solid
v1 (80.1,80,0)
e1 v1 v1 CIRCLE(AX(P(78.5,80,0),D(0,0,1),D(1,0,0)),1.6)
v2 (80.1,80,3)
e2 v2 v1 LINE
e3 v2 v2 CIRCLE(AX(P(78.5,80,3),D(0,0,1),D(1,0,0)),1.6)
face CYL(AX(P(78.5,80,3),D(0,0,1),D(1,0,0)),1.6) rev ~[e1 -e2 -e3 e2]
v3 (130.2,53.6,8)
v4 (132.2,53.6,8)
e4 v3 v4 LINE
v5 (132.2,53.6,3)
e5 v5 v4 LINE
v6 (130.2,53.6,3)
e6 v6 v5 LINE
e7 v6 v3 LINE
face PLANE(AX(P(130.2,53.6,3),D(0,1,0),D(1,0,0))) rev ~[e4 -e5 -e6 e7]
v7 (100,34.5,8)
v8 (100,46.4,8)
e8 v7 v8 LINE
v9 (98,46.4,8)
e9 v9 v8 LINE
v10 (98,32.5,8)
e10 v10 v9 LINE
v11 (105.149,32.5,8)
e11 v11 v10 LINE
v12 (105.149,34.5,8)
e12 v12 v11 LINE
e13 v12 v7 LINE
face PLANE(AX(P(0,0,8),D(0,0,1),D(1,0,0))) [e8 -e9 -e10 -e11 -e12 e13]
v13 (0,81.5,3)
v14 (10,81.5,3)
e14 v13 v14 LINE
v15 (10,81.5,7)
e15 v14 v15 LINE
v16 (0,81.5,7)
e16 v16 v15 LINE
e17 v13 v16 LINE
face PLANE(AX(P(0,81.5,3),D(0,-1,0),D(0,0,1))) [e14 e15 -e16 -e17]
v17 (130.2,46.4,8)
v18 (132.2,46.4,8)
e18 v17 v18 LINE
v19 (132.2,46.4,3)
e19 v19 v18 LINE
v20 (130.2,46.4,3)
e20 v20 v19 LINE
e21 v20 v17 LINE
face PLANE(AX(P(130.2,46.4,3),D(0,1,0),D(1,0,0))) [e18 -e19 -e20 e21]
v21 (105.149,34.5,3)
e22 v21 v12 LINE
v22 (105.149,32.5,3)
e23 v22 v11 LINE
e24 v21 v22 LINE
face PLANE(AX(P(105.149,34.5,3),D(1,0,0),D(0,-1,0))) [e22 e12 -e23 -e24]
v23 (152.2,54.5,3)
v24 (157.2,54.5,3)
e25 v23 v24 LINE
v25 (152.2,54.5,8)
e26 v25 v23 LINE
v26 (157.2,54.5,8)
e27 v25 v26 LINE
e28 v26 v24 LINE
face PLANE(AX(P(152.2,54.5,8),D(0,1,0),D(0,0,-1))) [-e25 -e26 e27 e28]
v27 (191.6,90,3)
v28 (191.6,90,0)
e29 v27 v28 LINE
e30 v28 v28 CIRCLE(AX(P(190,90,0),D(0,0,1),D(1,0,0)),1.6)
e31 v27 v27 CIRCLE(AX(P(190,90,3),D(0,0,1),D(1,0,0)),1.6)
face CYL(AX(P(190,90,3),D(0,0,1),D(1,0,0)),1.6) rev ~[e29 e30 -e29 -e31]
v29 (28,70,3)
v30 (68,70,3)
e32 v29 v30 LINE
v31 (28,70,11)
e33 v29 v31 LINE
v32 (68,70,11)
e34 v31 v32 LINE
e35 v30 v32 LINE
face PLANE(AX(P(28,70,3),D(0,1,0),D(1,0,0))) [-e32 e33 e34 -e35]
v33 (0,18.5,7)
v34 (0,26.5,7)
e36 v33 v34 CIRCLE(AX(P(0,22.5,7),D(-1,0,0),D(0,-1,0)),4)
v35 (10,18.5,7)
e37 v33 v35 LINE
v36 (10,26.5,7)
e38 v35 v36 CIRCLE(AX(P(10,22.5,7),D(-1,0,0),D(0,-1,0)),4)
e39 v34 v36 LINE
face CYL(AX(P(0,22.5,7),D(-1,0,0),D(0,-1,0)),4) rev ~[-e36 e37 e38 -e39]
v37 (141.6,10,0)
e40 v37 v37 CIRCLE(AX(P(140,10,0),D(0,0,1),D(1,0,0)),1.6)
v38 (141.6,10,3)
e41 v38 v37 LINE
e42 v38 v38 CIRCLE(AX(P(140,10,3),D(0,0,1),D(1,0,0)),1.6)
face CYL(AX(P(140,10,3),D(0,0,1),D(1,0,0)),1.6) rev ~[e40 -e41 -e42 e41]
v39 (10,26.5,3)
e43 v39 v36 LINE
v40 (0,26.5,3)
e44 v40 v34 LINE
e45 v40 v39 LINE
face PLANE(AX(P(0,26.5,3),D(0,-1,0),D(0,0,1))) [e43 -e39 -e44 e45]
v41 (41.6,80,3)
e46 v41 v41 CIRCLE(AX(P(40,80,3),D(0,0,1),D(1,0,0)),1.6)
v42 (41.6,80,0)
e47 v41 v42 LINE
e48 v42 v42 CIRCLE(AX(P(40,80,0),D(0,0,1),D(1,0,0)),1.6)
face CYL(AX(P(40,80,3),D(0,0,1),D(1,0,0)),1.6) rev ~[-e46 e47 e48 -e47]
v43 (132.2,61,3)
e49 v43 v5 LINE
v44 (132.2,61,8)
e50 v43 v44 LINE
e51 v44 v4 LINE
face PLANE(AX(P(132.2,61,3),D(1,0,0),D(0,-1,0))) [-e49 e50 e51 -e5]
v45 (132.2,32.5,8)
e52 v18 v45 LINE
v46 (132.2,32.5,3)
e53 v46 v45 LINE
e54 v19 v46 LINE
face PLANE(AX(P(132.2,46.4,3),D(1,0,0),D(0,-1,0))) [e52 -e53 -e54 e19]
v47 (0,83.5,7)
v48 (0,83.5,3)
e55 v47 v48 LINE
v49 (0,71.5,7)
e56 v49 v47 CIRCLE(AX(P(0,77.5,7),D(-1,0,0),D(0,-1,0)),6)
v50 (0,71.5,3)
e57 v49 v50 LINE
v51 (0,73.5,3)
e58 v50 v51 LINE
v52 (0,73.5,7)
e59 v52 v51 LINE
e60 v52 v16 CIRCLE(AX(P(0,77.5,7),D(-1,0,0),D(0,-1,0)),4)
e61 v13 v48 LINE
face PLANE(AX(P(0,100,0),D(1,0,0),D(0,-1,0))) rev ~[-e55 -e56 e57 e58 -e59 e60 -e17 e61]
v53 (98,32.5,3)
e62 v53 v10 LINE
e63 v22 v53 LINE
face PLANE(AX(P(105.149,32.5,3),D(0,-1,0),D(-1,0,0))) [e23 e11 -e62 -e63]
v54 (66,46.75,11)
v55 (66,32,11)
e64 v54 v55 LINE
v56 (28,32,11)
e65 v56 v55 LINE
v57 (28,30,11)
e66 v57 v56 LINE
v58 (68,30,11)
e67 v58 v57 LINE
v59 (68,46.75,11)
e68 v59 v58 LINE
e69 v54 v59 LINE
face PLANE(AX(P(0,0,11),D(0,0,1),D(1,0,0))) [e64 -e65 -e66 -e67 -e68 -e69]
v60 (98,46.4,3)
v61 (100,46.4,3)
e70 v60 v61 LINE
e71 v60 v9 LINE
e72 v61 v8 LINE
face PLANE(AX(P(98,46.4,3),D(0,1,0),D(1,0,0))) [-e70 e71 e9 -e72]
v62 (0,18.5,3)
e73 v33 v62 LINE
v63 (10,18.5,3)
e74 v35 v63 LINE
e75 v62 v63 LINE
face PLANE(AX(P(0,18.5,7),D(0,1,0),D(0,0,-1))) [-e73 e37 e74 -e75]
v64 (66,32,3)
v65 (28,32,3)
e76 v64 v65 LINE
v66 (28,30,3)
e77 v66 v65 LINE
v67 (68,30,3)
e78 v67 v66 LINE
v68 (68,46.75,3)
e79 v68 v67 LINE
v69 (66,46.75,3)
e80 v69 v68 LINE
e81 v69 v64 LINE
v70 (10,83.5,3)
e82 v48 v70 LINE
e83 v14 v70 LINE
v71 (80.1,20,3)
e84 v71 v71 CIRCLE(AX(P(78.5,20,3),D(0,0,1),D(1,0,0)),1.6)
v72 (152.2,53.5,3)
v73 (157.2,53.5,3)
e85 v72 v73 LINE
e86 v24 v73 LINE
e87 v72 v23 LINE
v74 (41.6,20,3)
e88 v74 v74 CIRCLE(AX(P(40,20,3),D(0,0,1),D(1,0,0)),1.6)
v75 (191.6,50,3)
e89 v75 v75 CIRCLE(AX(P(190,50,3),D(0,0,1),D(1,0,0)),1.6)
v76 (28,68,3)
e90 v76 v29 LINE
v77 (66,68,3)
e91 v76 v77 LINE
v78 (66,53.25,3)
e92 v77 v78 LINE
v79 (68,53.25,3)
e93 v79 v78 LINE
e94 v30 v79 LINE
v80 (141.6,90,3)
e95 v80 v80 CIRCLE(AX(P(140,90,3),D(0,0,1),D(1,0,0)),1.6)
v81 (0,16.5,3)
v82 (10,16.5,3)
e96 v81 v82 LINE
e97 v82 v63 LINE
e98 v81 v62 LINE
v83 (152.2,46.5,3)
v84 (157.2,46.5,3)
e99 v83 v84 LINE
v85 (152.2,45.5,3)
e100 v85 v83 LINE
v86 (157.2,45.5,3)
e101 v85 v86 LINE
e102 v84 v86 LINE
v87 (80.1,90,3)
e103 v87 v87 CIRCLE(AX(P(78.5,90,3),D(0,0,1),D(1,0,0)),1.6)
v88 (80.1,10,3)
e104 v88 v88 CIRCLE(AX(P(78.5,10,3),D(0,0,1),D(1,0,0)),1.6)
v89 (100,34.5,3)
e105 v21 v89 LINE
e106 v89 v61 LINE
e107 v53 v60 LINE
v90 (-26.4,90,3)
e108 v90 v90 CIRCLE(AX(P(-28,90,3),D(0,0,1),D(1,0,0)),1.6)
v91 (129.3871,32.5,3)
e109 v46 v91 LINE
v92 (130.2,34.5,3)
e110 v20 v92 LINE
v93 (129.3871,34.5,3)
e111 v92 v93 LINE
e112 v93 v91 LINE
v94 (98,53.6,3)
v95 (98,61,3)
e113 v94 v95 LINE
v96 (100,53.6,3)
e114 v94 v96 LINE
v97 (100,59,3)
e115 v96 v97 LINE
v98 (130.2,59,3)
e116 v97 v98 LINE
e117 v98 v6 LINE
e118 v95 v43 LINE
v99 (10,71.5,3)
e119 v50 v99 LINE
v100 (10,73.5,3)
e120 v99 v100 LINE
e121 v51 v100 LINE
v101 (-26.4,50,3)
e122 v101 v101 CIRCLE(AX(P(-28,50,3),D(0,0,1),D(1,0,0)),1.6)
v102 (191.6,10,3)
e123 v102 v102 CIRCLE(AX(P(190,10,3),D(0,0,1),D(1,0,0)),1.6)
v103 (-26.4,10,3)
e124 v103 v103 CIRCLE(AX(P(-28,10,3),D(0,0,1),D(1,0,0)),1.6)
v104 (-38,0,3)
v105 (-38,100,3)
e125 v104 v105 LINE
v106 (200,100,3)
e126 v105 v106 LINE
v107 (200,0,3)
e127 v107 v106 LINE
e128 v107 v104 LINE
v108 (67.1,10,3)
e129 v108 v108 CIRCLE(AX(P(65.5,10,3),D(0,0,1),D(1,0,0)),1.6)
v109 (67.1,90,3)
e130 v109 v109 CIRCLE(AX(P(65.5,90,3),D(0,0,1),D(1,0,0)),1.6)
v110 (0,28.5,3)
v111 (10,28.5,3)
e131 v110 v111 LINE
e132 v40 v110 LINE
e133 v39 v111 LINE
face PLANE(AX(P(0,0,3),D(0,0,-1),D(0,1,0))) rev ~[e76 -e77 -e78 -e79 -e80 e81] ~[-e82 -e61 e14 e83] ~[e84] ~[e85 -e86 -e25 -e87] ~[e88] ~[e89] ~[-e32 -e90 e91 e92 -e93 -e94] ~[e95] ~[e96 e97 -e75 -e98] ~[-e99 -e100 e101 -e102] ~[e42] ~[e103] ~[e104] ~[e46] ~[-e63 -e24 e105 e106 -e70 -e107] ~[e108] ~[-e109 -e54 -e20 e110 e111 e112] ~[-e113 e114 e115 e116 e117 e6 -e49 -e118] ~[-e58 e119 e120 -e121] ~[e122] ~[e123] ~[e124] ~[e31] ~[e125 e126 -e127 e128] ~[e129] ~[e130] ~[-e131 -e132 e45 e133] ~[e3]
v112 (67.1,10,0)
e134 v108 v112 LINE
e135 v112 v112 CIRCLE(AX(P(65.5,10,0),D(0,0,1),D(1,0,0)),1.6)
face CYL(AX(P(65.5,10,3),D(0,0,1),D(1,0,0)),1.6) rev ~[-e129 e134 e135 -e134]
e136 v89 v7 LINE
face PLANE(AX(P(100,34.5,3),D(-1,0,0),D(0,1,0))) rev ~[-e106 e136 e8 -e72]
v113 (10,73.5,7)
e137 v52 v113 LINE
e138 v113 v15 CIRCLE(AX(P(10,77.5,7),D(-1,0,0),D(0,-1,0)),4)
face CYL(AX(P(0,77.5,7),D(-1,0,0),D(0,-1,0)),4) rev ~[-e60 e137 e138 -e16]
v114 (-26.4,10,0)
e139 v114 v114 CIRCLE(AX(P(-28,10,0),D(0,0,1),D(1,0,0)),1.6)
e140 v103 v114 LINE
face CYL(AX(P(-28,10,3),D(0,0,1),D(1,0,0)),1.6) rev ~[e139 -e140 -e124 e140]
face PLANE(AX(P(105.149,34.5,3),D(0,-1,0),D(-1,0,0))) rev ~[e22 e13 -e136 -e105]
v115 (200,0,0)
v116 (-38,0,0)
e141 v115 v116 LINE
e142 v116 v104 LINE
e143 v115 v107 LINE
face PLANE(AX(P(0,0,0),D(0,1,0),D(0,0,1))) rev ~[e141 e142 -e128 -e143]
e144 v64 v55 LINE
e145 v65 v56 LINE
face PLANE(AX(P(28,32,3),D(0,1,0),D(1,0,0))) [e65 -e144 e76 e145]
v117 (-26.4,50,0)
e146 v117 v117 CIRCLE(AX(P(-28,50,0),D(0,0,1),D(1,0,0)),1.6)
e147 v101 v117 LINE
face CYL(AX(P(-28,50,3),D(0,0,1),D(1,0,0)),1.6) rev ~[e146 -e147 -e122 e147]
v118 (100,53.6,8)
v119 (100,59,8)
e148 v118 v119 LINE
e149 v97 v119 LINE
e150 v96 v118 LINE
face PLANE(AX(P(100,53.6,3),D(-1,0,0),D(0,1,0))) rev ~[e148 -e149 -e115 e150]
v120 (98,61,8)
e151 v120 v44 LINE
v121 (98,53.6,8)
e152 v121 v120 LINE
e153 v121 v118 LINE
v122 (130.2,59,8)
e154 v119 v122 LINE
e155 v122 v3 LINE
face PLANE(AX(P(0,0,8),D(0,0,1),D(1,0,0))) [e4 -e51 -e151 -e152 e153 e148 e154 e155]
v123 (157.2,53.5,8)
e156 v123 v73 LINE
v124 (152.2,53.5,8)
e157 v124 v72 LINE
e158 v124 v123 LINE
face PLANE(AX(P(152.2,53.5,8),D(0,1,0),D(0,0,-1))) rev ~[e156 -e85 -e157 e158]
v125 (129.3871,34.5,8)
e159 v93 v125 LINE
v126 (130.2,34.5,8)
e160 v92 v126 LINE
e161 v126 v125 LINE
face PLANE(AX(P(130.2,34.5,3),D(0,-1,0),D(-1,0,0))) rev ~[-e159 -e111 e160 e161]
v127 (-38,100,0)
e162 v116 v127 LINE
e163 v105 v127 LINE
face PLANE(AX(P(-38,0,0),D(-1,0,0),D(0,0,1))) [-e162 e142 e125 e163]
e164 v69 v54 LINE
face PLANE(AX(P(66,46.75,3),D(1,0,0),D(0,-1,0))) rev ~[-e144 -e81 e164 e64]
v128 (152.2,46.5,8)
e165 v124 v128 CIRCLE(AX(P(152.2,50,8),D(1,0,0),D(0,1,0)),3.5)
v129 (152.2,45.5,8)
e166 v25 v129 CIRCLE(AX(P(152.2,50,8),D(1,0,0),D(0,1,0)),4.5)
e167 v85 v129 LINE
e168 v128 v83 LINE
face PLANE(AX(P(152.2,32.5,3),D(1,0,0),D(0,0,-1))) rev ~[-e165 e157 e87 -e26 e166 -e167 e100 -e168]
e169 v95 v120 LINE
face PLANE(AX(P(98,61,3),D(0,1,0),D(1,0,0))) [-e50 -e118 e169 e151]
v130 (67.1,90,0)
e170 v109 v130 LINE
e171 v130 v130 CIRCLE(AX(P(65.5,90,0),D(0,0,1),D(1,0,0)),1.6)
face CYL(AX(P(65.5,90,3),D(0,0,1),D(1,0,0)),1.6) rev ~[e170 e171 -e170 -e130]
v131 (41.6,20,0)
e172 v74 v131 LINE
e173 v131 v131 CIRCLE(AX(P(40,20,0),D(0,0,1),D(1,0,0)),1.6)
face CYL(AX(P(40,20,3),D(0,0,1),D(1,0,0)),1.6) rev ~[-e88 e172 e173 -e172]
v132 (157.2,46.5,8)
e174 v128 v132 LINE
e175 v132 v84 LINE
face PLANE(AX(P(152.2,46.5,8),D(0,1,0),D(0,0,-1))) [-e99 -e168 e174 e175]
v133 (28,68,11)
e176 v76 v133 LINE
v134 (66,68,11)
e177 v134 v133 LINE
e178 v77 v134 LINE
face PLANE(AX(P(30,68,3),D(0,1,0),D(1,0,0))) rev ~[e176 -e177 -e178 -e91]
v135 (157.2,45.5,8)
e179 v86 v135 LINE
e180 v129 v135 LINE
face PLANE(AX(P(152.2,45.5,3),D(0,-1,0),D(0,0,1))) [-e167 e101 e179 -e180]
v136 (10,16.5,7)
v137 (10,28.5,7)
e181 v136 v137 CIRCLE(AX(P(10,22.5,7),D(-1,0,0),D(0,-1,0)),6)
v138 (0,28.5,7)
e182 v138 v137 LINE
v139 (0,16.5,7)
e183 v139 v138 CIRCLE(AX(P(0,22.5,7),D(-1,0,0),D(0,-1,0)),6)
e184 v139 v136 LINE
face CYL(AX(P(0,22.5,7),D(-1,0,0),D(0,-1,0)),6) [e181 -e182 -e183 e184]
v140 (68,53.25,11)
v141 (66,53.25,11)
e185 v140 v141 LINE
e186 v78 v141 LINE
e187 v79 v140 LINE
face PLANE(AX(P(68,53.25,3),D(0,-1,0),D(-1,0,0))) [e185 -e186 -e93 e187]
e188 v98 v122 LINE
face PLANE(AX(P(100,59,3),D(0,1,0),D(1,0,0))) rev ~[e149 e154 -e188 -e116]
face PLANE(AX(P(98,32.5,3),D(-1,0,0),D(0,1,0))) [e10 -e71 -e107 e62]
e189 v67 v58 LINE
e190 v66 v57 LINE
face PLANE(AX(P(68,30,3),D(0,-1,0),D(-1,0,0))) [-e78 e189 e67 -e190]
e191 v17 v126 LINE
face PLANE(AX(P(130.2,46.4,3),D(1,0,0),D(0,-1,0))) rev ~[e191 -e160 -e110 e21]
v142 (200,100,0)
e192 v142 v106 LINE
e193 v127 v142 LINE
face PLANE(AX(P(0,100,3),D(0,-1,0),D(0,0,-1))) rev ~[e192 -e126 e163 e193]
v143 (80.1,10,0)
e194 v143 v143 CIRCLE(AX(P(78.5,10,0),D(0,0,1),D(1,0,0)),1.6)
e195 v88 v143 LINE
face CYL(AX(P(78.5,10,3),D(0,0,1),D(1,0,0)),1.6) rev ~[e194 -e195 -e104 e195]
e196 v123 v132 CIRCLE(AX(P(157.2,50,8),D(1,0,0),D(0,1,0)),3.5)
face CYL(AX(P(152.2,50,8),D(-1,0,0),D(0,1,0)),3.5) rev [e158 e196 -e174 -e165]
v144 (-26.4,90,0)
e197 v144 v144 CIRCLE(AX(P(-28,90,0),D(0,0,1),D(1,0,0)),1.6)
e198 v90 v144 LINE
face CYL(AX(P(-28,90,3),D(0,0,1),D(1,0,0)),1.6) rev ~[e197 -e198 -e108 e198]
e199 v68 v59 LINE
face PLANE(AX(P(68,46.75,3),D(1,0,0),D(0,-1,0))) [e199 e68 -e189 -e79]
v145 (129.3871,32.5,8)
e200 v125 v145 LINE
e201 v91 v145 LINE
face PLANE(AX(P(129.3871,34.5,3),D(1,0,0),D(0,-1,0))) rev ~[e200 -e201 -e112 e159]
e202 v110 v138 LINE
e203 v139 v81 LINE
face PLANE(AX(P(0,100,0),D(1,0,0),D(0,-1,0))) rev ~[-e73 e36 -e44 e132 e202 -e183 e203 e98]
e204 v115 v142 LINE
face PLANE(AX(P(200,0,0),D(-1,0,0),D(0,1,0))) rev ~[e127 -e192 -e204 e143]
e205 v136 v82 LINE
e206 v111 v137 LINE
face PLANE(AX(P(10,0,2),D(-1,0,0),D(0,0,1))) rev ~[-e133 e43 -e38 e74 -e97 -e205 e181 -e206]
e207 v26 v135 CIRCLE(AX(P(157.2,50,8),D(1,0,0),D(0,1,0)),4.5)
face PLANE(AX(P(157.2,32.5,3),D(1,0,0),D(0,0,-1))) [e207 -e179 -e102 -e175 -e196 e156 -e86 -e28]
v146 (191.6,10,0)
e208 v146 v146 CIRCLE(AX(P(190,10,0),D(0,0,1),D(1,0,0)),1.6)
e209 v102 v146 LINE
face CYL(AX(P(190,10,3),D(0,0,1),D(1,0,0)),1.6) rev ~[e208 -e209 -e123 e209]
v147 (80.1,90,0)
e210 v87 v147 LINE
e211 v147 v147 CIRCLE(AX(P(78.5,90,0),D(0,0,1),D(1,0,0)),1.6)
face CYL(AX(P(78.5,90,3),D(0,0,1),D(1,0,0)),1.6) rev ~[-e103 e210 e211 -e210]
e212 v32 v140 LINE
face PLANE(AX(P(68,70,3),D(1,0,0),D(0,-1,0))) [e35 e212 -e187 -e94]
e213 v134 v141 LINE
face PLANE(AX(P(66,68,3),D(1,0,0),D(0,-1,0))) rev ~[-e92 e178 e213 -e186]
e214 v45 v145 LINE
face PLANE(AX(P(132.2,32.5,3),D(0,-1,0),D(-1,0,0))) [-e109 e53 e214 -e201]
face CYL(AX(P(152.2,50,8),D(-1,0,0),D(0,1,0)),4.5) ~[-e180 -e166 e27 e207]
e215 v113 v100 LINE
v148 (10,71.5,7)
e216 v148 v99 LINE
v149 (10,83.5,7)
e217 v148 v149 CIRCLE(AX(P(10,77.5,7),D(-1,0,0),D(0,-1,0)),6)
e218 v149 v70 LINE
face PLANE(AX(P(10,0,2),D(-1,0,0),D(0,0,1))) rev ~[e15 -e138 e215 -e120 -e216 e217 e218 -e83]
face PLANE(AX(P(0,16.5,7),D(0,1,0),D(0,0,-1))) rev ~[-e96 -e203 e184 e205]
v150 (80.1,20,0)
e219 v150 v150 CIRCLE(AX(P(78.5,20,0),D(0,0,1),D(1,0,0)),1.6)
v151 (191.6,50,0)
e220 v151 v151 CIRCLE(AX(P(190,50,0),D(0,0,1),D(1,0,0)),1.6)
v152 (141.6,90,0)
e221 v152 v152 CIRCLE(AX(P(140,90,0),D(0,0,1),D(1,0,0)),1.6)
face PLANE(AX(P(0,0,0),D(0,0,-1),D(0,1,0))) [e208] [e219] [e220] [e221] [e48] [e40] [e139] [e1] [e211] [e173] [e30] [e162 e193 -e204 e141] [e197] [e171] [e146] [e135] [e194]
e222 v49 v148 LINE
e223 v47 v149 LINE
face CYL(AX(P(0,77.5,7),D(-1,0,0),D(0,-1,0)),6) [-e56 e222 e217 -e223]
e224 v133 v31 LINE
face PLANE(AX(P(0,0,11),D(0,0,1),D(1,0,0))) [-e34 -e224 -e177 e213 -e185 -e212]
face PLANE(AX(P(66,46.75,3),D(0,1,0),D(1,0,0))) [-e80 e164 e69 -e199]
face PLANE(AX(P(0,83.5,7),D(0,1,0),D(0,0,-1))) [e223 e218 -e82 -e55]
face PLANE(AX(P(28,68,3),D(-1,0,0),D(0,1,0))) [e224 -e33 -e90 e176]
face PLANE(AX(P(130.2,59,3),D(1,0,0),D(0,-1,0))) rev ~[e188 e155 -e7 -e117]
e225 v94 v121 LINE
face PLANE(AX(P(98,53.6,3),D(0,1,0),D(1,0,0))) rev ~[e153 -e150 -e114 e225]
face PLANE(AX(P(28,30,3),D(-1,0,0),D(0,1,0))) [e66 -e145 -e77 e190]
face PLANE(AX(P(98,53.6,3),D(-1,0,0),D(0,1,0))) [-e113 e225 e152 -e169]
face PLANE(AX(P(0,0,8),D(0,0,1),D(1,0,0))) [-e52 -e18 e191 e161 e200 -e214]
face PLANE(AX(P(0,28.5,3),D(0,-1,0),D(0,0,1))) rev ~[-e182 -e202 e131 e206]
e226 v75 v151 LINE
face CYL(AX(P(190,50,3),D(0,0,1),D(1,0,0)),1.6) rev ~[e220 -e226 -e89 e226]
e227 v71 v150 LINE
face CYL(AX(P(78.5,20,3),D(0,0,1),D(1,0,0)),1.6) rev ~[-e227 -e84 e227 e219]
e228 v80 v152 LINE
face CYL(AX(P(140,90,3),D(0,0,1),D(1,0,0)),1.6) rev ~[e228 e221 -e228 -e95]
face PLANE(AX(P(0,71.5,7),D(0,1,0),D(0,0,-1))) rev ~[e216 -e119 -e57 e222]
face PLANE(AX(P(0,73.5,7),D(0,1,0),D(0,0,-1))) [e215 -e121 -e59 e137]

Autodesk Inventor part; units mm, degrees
ref_plane "YZ Plane" through (0, 0, 0) normal (1, 0, 0) x (0, 1, 0)
ref_plane "XZ Plane" through (0, 0, 0) normal (0, 1, 0) x (-1, 0, 0)
ref_plane "XY Plane" through (0, 0, 0) normal (0, 0, 1) x (1, 0, 0)
sketch "Sketch1" plane through (0, 0, 0) normal (0, 0, 1) x (1, 0, 0)
  line L0 (0, 0) -> (200, 0)
  line L1 (200, 0) -> (200, 100)
  line L2 (200, 100) -> (0, 100)
  line L3 (0, 100) -> (0, 0)
  dimension "d0" = 200
  dimension "d1" = 100
extrude "Extrusion1" add sketch "Sketch1" along normal blind 3
sketch "Sketch2" plane through (0, 0, 2) normal (-1, 0, 0) x (0, 0, 1)
  line L0 (1, 0) -> (1, 100) projected
  line L1 (1, 81.5) -> (5, 81.5)
  arc A0 (5, 73.5) -> (5, 81.5) centre (5, 77.5) ccw
  line L2 (5, 73.5) -> (1, 73.5)
  arc A1 (5, 71.5) -> (5, 83.5) centre (5, 77.5) ccw
  line L3 (5, 83.5) -> (1, 83.5)
  line L4 (5, 71.5) -> (1, 71.5)
  line L5 (1, 28.5) -> (5, 28.5)
  arc A2 (5, 16.5) -> (5, 28.5) centre (5, 22.5) ccw
  line L6 (5, 16.5) -> (1, 16.5)
  line L7 (1, 26.5) -> (5, 26.5)
  arc A3 (5, 18.5) -> (5, 26.5) centre (5, 22.5) ccw
  line L8 (5, 18.5) -> (1, 18.5)
  line L9 (1, 50) -> (8.8605, 50) construction
  line L10 (5, 77.5) -> (5, 22.5) construction
  point P0 (-2, 0)
  point P1 (5, 50)
  dimension "d4" = 8
  dimension "d5" = 2
  dimension "d6" = 2
  dimension "d7" = 8
  dimension "d8" = 55
  dimension "d9" = 4
extrude "Extrusion2" add sketch "Sketch2" against normal blind 10 contours L0 L2 A0 L1 L3 A1 L4 | L0 L8 A3 L7 L5 A2 L6
sketch "Sketch3" plane through (0, 0, 3) normal (0, 0, 1) x (1, 0, 0)
  line L0 (0, 71.5) -> (0, 28.5) projected
  line L1 (0, 50) -> (200, 50) construction
  line L2 (200, 0) -> (200, 100) projected
  line L3 (68, 30) -> (28, 30)
  line L4 (28, 30) -> (28, 70)
  line L5 (28, 70) -> (68, 70)
  line L6 (68, 70) -> (68, 30)
  line L7 (68, 30) -> (28, 70) construction
  line L8 (28, 30) -> (68, 70) construction
  line L9 (66, 32) -> (30, 32)
  line L10 (30, 32) -> (30, 68)
  line L11 (30, 68) -> (66, 68)
  line L12 (66, 68) -> (66, 32)
  line L13 (66, 32) -> (30, 68) construction
  line L14 (30, 32) -> (66, 68) construction
  line L15 (30, 68) -> (28, 68)
  line L16 (28, 68) -> (28, 32)
  line L17 (28, 32) -> (30, 32)
  line L18 (30, 32) -> (30, 68)
  line L19 (66, 46.75) -> (68, 46.75)
  line L20 (68, 46.75) -> (68, 53.25)
  line L21 (68, 53.25) -> (66, 53.25)
  line L22 (66, 53.25) -> (66, 46.75)
  point P0 (0, 0)
  point P1 (48, 50)
  point P2 (48, 50)
  point P3 (66, 50)
  dimension "d15" = 36
  dimension "d17" = 36
  dimension "d18" = 2
  dimension "d19" = 2
  dimension "d20" = 28
  dimension "d23" = 6.5
extrude "Extrusion3" add sketch "Sketch3" along normal blind 8 contours L3 L4 L17 L9 L12 L19 L6 | L21 L12 L11 L15 L4 L5 L6
sketch "Sketch4" plane through (0, 0, 3) normal (0, 0, 1) x (1, 0, 0)
  line L0 (0, 71.5) -> (0, 28.5) projected
  line L1 (200, 0) -> (200, 100) projected
  line L2 (100, 59) -> (130.2, 59)
  line L3 (130.2, 59) -> (130.2, 34.5)
  line L4 (130.2, 34.5) -> (100, 34.5)
  line L5 (100, 34.5) -> (100, 59)
  line L6 (98, 61) -> (132.2, 61)
  line L7 (132.2, 61) -> (132.2, 32.5)
  line L8 (132.2, 32.5) -> (98, 32.5)
  line L9 (98, 32.5) -> (98, 61)
  line L10 (88, 53.6) -> (98, 53.6) construction
  line L11 (98, 46.4) -> (88, 46.4) construction
  line L12 (88, 46.4) -> (88, 53.6) construction
  line L13 (88, 50) -> (0, 50) construction
  line L14 (68, 53.25) -> (68, 70) projected
  line L15 (98, 53.6) -> (100, 53.6)
  line L16 (98, 46.4) -> (100, 46.4)
  line L17 (130.2, 53.6) -> (132.2, 53.6)
  line L18 (130.2, 46.4) -> (132.2, 46.4)
  line L19 (105.149, 34.5) -> (105.149, 32.5)
  line L20 (129.3871, 34.5) -> (129.3871, 32.5)
  point P0 (0, 0)
  dimension "d24" = 24.5
  dimension "d25" = 30.2
  dimension "d26" = 2
  dimension "d27" = 2
  dimension "d28" = 2
  dimension "d29" = 2
  dimension "d30" = 7.2
  dimension "d31" = 10
  dimension "d32" = 20
  dimension "d33" = 9
extrude "Extrusion4" add sketch "Sketch4" along normal blind 5 contours L5 L15 L9 L6 L7 L17 L3 L2 | L5 L4 L19 L8 L9 L16 | L18 L7 L8 L20 L4 L3
sketch "Sketch5" plane through (0, 0, 0) normal (-1, 0, 0) x (0, 0, 1)
  line L0 (0, 0) -> (0, 100) projected
  line L1 (3, 0) -> (3, 100) projected
  line L2 (0, 0) -> (3, 0)
  line L3 (3, 0) -> (3, 100)
  line L4 (3, 100) -> (0, 100)
  line L5 (0, 100) -> (0, 0)
extrude "Extrusion5" add sketch "Sketch5" along normal blind 38
sketch "Sketch6" plane through (0, 0, 3) normal (0, 0, 1) x (1, 0, 0)
  circle A0 centre (-28, 10) radius 1.6
  circle A1 centre (140, 10) radius 1.6
  circle A2 centre (190, 10) radius 1.6
  circle A3 centre (190, 50) radius 1.6
  circle A4 centre (190, 90) radius 1.6
  circle A5 centre (140, 90) radius 1.6
  circle A6 centre (-28, 90) radius 1.6
  line L0 (-28, 90) -> (190, 90) construction
  line L1 (190, 90) -> (190, 10) construction
  line L2 (190, 10) -> (-28, 10) construction
  line L3 (-28, 10) -> (-28, 90) construction
  line L4 (200, 100) -> (-38, 100) projected
  line L5 (-38, 0) -> (-38, 100) projected
  line L6 (200, 0) -> (-38, 0) projected
  line L7 (200, 0) -> (200, 100) projected
  line L8 (-38, 50) -> (200, 50) construction
  circle A7 centre (-28, 50) radius 1.6
  line L9 (0, 83.5) -> (0, 71.5) projected
  line L10 (140, 90) -> (140, 10) construction
  line L11 (40, 80) -> (78.5, 80) construction
  line L12 (78.5, 80) -> (78.5, 20) construction
  line L13 (78.5, 20) -> (40, 20) construction
  line L14 (40, 20) -> (40, 80) construction
  circle A8 centre (40, 80) radius 1.6
  circle A9 centre (78.5, 80) radius 1.6
  circle A10 centre (40, 20) radius 1.6
  circle A11 centre (78.5, 20) radius 1.6
  point P0 (0, 0)
  dimension "d38" = 3.2
  dimension "d41" = 3.2
  dimension "d42" = 3.2
  dimension "d43" = 3.2
  dimension "d44" = 3.2
  dimension "d45" = 3.2
  dimension "d48" = 3.2
  dimension "d49" = 10
  dimension "d50" = 10
  dimension "d51" = 10
  dimension "d52" = 10
  dimension "d53" = 3.2
  dimension "d56" = 50
  dimension "d68" = 60
  dimension "d69" = 3.2
  dimension "d70" = 3.2
  dimension "d71" = 3.2
  dimension "d72" = 3.2
  dimension "d73" = 40
  dimension "d74" = 38.5
extrude "Extrusion6" cut sketch "Sketch6" against normal blind 5 contours A0 | A1 | A2 | A3 | A4 | A5 | A6 | A7 | A8 | A9 | A10 | A11
ref_plane "Work Plane1" through (152.2, 32.5, 3) normal (1, 0, 0) x (0, 0, -1)
sketch "Sketch7" plane through (152.2, 32.5, 3) normal (1, 0, 0) x (0, 0, -1)
  line L0 (0, 13.9) -> (0, 2) projected
  line L1 (0, 13) -> (-5, 13)
  arc A0 (-5, 22) -> (-5, 13) centre (-5, 17.5) ccw
  line L2 (-5, 22) -> (0, 22)
  line L3 (0, 21.1) -> (0, 28.5) projected
  arc A1 (-5, 21) -> (-5, 14) centre (-5, 17.5) ccw
  line L4 (-5, 14) -> (0, 14)
  line L5 (-5, 21) -> (0, 21)
  line L6 (0, -32.5) -> (0, 67.5) projected
  line L7 (0, 13.9) -> (-5, 13.9) projected
  line L8 (0, 21.1) -> (-5, 21.1) projected
  line L9 (-5, 13.9) -> (-5, 21.1) construction
  line L10 (-5, 17.5) -> (-5, 17.5) construction
  point P0 (3, -32.5)
  point P1 (0, 0)
  dimension "d63" = 3.5
  dimension "d64" = 4.5
  dimension "d65" = 5
extrude "Extrusion7" add sketch "Sketch7" along normal blind 5 contours L0 L1 A0 L2 L3 L6 L5 A1 L4
sketch "Sketch9" plane through (0, 0, 3) normal (0, 0, 1) x (1, 0, 0)
  line L0 (65.5, 10) -> (78.5, 10) construction
  line L1 (78.5, 10) -> (78.5, 90) construction
  line L2 (78.5, 90) -> (65.5, 90) construction
  line L3 (65.5, 90) -> (65.5, 10) construction
  line L4 (65.5, 10) -> (78.5, 90) construction
  line L5 (78.5, 10) -> (65.5, 90) construction
  line L6 (-38, 100) -> (-38, 0) projected
  line L7 (-38, 50) -> (72, 50) construction
  circle A0 centre (65.5, 90) radius 1.6
  circle A1 centre (78.5, 90) radius 1.6
  circle A2 centre (65.5, 10) radius 1.6
  circle A3 centre (78.5, 10) radius 1.6
  circle A4 centre (-28, 90) radius 1.6 projected
  line L8 (-28, 90) -> (65.5, 90) construction
  point P0 (0, 0)
  dimension "d91" = 110
  dimension "d92" = 3.2
  dimension "d93" = 3.2
  dimension "d94" = 3.2
  dimension "d95" = 3.2
  dimension "d96" = 13
extrude "Extrusion8" cut sketch "Sketch9" against normal blind 10 contours A0 | A1 | A2 | A3
equation "\"d50\" = d49"
equation "\"d51\" = d49"
equation "\"d52\" = d49"
properties part number "lowerBase"
